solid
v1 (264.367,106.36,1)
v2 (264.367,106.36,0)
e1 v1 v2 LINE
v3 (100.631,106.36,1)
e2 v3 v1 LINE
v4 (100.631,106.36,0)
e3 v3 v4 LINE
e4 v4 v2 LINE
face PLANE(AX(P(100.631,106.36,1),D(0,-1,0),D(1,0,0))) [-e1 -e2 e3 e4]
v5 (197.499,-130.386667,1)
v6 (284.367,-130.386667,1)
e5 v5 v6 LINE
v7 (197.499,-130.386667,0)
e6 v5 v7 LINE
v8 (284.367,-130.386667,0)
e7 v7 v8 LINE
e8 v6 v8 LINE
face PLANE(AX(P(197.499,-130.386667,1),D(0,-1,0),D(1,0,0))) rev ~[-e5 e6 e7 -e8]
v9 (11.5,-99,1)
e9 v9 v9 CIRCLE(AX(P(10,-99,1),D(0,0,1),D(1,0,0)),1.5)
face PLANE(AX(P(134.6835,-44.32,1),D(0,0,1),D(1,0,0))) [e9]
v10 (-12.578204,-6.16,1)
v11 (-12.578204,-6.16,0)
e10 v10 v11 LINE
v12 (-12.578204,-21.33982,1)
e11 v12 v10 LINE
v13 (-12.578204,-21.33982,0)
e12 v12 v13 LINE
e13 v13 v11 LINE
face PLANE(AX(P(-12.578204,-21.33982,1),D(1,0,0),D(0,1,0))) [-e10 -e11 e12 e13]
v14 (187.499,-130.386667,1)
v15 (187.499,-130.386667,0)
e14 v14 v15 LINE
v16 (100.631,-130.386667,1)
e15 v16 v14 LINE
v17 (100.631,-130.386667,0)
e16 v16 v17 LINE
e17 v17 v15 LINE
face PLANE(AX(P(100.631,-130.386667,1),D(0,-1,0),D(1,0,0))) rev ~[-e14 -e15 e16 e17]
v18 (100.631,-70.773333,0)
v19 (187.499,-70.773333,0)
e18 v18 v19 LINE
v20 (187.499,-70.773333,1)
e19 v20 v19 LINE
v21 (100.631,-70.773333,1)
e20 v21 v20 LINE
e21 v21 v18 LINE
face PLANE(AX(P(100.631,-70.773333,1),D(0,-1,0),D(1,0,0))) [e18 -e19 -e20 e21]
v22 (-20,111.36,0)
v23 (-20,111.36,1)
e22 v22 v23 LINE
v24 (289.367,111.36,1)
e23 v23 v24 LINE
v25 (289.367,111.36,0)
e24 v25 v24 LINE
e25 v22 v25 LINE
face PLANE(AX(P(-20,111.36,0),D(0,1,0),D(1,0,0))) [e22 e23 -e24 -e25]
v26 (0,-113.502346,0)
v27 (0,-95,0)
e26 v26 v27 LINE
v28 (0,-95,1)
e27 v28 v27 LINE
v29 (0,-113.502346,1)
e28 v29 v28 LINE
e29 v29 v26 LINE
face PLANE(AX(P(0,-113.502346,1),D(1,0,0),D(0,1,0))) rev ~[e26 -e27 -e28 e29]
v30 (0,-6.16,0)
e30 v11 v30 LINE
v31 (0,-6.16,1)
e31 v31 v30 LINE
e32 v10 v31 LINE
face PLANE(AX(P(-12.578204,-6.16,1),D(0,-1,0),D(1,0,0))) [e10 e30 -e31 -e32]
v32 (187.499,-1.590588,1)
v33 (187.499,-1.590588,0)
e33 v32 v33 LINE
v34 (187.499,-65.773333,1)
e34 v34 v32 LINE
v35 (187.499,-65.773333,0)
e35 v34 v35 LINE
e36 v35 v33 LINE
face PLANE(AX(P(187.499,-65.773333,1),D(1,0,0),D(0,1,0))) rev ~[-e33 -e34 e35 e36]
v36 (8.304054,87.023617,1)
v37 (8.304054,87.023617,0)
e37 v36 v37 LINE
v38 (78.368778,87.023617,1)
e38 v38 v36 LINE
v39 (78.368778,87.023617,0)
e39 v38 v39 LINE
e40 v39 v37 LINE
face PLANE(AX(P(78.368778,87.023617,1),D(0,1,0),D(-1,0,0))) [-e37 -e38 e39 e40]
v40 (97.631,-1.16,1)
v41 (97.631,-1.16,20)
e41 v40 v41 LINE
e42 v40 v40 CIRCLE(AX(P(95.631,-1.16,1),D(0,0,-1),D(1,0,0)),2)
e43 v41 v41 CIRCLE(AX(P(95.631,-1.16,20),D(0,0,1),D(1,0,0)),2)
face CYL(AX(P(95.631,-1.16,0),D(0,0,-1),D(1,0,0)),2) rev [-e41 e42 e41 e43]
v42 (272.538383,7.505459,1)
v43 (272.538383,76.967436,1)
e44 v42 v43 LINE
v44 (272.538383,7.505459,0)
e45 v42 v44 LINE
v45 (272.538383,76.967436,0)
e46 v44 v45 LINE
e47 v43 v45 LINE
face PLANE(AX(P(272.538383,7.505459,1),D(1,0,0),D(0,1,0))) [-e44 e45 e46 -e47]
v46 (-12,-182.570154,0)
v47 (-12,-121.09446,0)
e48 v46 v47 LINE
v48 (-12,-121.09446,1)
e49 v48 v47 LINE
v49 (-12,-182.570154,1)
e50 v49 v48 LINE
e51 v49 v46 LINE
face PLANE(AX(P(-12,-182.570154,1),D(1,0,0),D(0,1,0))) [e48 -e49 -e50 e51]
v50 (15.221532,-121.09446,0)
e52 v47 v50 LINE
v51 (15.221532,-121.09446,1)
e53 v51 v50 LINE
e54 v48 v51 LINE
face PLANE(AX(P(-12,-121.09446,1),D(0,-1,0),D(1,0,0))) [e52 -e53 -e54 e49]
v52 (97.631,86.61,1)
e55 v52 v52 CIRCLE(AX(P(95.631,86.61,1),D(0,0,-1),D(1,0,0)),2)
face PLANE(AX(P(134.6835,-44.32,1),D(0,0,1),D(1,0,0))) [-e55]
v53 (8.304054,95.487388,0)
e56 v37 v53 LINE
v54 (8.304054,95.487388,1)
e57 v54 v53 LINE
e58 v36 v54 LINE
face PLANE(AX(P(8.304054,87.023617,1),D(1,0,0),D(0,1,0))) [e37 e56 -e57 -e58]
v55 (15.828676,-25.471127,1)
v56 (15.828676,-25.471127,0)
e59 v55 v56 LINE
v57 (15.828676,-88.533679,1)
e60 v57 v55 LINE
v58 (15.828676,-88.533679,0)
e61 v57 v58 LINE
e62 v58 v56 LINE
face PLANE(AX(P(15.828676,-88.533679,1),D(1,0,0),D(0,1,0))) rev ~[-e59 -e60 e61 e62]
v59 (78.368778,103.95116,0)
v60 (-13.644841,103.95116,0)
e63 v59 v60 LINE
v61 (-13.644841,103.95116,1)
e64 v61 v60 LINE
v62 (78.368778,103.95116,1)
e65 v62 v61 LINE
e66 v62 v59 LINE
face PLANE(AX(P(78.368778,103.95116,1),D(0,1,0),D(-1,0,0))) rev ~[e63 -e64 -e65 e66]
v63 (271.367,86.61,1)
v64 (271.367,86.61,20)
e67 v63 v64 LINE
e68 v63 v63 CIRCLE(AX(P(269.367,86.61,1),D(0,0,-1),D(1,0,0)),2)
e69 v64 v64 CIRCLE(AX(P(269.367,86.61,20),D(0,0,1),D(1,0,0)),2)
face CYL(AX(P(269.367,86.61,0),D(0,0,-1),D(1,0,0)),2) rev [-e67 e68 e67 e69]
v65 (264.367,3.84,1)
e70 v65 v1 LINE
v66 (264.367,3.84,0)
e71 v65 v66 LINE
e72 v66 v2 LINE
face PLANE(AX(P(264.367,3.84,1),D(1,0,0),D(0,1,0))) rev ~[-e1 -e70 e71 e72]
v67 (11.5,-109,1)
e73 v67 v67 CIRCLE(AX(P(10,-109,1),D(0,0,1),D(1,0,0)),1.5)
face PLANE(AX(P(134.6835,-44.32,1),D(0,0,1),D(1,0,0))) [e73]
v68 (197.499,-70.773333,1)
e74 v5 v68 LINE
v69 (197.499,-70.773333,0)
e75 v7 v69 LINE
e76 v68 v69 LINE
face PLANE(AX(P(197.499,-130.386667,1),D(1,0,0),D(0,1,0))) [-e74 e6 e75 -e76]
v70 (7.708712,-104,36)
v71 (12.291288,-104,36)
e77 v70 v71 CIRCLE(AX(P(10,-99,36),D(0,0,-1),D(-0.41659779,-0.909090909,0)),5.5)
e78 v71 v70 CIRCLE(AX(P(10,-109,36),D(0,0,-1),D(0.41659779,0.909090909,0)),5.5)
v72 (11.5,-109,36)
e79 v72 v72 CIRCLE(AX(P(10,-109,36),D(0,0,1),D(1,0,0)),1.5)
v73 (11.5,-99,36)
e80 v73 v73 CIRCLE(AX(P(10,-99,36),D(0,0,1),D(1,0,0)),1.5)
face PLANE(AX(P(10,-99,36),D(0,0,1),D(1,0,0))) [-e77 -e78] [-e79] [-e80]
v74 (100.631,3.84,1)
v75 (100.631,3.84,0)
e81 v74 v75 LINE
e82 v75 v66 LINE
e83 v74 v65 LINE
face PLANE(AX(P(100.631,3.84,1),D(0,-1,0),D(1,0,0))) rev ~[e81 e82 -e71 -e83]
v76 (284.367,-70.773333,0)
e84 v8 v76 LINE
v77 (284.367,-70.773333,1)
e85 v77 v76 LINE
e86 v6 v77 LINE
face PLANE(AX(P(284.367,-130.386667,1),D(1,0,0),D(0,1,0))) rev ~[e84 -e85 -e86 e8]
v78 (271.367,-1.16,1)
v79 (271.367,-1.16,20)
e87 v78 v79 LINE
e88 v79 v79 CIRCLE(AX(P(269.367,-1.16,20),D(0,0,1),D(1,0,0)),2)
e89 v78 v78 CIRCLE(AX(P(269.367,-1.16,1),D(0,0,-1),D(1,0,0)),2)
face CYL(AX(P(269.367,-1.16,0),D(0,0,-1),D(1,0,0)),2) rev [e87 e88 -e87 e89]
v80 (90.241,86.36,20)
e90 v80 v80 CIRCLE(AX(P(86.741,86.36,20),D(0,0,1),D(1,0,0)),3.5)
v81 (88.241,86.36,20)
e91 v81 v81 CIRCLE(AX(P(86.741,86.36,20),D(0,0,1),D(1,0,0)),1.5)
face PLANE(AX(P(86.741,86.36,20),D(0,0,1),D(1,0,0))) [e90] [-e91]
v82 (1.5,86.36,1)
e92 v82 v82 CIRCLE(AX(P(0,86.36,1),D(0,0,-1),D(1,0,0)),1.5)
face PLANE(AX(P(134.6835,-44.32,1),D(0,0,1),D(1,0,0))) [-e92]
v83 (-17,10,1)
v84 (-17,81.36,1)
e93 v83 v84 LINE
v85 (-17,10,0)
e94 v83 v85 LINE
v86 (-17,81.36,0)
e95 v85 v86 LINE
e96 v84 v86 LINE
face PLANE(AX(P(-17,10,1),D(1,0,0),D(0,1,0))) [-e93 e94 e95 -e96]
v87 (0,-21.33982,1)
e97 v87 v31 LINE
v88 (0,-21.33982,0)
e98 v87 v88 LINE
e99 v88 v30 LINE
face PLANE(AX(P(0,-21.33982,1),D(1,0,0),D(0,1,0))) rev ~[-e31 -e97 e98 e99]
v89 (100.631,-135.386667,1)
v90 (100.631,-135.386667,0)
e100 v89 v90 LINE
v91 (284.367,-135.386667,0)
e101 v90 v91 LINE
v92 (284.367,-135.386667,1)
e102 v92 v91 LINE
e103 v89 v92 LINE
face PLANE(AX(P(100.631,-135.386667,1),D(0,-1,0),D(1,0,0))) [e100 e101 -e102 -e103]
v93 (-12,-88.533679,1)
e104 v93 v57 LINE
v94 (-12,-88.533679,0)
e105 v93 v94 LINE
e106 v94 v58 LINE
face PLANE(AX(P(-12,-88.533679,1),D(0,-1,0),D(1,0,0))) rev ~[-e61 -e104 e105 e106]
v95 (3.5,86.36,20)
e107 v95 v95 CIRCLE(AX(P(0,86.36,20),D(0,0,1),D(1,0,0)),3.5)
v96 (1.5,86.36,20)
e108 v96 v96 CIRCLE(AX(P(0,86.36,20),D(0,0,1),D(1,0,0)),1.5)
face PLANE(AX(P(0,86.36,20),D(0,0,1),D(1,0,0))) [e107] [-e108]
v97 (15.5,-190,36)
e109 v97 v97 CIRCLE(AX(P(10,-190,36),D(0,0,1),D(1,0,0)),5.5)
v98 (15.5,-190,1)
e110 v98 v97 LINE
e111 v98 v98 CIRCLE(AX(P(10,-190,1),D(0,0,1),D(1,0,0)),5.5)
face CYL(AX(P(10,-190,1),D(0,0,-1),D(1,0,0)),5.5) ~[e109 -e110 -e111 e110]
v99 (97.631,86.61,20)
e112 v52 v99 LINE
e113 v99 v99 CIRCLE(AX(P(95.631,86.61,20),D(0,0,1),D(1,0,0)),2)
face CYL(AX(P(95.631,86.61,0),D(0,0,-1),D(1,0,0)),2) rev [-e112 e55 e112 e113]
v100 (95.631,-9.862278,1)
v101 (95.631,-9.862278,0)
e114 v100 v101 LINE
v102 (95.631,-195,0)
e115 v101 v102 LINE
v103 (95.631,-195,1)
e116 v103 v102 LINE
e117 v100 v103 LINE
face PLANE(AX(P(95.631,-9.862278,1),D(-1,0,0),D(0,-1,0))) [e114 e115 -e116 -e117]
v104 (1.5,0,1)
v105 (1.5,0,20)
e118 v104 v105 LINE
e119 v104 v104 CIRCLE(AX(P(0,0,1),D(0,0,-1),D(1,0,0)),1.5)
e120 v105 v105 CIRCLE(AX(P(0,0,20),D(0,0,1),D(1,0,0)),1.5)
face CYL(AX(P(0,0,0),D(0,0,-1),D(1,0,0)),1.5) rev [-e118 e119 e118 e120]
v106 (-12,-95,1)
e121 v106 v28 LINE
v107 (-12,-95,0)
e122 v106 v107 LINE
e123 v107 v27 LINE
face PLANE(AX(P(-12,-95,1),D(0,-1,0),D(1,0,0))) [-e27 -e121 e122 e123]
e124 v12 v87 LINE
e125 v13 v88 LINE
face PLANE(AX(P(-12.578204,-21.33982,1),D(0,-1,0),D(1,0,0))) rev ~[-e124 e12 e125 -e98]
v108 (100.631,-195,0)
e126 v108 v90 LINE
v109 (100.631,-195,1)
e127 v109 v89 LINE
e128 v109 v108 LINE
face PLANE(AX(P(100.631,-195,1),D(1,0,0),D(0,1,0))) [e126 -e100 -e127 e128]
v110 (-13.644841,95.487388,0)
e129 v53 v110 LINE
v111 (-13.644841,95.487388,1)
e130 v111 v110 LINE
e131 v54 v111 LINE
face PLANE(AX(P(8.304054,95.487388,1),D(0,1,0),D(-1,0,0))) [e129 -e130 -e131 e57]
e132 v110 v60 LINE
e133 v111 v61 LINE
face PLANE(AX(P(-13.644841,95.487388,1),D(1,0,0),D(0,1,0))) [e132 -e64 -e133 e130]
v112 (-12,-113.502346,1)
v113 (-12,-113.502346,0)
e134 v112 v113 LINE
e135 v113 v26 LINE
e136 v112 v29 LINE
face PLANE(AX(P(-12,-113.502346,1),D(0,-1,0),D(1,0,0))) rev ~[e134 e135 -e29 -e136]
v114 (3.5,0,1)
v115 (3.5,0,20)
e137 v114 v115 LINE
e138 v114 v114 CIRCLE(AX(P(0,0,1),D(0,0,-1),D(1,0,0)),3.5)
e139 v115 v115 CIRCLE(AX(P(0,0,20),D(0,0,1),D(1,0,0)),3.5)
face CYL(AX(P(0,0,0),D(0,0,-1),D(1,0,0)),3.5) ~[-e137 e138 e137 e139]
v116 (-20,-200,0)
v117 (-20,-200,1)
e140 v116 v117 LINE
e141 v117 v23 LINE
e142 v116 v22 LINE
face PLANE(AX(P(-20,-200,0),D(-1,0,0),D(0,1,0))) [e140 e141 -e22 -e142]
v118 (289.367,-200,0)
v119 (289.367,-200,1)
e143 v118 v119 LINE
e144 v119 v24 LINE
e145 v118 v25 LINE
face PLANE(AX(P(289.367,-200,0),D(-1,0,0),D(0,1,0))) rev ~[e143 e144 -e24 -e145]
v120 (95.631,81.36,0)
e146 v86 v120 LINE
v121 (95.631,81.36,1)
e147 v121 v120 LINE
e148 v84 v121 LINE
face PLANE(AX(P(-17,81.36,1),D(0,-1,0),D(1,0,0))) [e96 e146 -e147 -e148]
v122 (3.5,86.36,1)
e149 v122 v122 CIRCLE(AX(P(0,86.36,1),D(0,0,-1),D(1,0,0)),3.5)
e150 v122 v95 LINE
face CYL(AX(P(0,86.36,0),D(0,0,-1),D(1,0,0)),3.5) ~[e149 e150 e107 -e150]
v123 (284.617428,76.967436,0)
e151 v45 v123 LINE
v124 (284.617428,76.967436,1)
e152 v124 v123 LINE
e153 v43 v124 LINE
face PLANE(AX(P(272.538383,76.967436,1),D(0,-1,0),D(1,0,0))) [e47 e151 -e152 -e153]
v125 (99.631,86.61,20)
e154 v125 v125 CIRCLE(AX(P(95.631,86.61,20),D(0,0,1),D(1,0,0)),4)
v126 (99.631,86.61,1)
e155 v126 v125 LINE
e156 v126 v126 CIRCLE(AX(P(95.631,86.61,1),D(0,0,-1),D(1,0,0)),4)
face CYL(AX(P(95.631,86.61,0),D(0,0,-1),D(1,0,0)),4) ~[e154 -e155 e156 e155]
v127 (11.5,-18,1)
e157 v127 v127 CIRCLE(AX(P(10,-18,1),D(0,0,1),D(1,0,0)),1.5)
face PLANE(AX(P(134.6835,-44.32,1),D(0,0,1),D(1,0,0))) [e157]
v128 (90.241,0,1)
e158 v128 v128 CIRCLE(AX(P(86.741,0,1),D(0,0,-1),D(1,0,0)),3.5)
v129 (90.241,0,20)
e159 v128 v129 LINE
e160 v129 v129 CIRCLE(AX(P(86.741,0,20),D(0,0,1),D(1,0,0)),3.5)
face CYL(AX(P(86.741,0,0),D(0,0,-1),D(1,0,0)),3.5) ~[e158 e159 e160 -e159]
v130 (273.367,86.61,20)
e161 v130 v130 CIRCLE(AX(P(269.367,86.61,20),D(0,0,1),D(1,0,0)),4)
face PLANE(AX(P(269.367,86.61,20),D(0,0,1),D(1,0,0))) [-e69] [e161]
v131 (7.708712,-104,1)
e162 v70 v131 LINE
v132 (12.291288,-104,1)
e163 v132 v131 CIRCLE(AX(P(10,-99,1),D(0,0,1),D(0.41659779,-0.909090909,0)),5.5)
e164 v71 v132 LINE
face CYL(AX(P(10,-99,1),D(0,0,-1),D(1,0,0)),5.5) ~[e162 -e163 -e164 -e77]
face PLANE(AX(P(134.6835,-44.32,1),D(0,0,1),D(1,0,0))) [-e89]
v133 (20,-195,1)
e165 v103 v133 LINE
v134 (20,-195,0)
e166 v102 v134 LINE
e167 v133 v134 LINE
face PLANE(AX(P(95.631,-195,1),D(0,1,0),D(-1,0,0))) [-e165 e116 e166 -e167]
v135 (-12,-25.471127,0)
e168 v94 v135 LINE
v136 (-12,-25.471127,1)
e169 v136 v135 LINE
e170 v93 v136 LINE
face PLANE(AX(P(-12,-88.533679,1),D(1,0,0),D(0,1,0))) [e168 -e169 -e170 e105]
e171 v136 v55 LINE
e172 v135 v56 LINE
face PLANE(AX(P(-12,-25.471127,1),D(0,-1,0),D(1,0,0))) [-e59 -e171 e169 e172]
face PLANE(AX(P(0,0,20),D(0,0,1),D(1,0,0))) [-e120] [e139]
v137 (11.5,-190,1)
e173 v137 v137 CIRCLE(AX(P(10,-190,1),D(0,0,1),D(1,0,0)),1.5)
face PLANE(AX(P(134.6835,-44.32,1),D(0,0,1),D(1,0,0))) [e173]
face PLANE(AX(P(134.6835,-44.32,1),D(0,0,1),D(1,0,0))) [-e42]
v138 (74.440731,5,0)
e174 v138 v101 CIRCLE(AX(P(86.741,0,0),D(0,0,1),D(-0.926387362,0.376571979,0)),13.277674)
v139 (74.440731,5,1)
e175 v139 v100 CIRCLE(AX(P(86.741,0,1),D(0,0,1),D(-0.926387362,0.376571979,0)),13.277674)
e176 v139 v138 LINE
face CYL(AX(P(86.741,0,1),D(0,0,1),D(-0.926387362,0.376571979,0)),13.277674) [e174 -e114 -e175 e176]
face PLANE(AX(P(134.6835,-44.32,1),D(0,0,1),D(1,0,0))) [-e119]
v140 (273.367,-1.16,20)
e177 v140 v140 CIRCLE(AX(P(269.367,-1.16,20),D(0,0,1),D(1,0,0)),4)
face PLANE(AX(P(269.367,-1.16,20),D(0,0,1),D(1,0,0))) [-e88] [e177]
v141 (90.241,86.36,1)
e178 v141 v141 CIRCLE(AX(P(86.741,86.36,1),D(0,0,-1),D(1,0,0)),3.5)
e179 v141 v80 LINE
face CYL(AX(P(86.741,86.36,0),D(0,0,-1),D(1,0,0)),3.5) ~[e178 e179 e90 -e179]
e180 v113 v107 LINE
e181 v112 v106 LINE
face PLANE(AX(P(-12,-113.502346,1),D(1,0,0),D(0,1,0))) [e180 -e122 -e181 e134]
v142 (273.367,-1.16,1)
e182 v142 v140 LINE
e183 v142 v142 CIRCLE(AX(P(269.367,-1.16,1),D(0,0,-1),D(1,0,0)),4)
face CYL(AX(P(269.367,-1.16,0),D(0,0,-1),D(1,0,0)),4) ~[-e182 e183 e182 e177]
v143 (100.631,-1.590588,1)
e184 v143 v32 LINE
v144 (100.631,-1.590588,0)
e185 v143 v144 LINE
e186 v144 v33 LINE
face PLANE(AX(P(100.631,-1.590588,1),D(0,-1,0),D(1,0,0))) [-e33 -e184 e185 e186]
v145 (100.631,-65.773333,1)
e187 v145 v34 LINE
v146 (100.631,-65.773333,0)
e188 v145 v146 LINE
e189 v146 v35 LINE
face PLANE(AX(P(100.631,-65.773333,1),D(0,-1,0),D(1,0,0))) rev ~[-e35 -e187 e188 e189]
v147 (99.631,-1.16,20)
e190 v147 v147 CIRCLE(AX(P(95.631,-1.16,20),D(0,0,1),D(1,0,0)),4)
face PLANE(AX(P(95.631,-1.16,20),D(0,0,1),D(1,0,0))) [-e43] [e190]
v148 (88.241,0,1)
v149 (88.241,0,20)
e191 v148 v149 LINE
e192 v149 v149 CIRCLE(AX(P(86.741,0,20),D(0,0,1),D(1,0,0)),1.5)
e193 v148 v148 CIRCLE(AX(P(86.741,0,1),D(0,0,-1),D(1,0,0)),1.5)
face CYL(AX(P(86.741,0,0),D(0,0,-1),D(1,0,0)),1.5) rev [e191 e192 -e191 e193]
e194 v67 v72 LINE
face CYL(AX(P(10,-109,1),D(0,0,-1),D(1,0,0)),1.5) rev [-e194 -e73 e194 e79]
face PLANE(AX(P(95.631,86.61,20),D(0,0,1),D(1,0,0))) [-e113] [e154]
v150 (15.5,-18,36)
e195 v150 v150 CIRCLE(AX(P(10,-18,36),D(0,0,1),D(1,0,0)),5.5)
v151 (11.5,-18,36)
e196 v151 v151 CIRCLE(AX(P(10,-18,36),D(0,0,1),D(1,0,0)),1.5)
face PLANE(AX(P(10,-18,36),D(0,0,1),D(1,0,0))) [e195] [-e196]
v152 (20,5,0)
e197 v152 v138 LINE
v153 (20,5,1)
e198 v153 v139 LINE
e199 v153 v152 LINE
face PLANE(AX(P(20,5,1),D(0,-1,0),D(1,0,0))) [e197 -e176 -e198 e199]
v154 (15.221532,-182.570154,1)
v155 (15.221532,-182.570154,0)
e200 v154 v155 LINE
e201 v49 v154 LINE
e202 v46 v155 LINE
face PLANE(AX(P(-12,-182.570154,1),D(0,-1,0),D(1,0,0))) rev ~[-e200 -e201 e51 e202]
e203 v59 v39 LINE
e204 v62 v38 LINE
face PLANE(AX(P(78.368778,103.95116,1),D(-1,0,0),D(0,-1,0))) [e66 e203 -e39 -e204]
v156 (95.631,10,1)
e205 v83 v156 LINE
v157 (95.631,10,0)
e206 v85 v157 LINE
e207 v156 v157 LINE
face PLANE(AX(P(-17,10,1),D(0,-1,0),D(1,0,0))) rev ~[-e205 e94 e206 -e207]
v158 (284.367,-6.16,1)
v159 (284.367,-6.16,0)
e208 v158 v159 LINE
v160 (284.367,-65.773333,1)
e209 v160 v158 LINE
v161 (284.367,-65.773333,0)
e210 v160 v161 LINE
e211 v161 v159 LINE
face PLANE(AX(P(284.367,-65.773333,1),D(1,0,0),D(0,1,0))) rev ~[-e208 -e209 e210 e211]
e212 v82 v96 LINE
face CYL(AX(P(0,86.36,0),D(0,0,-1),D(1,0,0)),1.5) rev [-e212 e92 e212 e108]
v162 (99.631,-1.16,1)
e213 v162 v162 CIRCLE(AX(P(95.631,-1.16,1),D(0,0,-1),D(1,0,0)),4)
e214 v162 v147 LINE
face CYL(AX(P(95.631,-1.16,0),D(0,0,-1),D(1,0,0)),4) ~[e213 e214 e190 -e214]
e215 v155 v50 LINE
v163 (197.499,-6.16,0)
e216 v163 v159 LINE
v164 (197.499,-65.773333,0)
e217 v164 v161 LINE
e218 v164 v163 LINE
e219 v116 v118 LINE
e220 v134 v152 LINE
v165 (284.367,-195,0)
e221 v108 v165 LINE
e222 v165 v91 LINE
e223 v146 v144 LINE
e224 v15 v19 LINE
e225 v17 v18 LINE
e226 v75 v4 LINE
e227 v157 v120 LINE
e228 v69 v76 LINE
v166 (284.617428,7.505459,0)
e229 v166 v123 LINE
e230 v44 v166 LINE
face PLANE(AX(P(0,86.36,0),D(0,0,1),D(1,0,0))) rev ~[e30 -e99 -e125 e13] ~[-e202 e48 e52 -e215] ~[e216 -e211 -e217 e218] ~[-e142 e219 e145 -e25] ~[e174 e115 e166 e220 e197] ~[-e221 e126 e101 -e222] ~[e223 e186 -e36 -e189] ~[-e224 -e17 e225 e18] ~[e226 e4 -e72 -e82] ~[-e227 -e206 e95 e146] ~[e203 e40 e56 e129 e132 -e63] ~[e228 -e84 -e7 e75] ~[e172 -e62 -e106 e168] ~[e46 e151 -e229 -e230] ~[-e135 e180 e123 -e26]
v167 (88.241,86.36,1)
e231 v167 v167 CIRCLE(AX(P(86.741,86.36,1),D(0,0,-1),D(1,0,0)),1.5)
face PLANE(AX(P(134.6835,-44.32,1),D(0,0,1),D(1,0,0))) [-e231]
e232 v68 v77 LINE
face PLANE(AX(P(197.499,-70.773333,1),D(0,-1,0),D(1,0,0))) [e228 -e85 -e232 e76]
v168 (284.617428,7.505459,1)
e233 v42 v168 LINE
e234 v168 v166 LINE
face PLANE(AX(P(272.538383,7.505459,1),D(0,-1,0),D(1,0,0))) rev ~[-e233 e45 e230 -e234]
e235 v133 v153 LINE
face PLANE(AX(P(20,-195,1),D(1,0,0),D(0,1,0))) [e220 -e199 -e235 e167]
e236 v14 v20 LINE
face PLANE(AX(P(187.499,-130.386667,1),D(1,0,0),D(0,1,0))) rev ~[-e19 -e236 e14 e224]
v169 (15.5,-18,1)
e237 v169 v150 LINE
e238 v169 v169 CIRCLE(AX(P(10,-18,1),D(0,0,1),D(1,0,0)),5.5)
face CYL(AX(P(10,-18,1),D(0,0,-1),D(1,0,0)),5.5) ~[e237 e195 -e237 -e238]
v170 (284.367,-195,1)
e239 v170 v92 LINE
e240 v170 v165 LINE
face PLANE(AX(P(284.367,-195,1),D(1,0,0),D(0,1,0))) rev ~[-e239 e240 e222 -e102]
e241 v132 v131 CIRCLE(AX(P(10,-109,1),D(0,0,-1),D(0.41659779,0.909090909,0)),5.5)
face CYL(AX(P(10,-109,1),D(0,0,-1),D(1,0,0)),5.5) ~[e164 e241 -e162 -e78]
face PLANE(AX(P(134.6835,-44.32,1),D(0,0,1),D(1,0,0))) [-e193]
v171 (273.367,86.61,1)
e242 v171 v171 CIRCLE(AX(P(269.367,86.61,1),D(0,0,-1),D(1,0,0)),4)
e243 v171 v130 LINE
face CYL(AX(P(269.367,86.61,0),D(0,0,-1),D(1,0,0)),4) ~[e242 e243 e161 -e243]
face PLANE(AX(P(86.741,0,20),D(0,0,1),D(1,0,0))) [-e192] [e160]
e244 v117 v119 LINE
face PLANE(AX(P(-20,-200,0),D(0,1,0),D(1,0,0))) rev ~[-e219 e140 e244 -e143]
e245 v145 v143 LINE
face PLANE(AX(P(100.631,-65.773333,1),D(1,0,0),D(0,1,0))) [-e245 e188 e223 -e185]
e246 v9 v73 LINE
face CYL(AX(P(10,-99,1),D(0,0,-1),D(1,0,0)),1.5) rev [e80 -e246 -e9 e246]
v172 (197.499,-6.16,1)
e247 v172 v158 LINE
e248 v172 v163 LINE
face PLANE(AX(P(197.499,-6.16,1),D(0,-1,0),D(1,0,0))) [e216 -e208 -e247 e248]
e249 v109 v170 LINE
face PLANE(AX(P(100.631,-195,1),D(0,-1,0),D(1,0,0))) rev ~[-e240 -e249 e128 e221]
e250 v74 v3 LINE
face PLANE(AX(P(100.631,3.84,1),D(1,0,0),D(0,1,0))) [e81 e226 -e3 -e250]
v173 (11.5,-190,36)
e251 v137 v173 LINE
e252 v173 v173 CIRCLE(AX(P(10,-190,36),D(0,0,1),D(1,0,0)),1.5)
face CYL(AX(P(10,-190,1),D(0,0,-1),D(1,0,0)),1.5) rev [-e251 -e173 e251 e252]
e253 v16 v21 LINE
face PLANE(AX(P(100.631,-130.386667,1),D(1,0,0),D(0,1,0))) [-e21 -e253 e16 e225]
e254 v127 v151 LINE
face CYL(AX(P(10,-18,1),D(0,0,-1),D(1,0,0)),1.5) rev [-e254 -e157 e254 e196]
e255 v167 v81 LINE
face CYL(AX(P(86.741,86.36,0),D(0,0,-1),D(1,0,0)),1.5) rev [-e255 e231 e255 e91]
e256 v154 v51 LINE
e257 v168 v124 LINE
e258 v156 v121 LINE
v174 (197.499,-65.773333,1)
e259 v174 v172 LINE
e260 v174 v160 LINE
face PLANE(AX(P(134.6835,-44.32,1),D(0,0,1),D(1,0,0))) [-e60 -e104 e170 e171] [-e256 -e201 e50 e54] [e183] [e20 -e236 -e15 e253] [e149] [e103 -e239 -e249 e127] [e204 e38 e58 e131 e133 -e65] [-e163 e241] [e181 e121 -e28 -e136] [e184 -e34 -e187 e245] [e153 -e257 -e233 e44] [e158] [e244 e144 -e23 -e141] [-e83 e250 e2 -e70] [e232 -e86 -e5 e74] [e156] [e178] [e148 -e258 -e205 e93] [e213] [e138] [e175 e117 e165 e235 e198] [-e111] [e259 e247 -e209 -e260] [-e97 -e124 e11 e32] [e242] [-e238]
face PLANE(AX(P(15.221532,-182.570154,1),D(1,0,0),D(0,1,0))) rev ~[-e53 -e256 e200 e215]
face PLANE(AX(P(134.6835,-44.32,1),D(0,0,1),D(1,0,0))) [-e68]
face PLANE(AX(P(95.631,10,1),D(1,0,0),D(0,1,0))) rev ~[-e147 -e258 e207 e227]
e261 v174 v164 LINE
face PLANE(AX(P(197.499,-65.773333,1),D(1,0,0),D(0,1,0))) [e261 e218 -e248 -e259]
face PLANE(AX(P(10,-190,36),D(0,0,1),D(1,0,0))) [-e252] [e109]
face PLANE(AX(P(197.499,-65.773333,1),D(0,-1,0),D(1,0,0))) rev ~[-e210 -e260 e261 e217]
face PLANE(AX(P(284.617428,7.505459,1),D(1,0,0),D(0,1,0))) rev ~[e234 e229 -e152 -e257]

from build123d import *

# Parameters (mm, degrees)
SKETCH2_W           = 309.367
SKETCH2_H           = 311.36
BOSS_EXTRUDE1_DEPTH = 1
SKETCH2_3_R         = 3.5
SKETCH2_3_R_2       = 1.5
SKETCH2_3_R_3       = 4
SKETCH2_3_R_4       = 2
EXTRUDE_THIN1_DEPTH = 20
SKETCH3_R           = 5.5
SKETCH3_R_2         = 1.5
EXTRUDE_THIN2_DEPTH = 35
SKETCH4_W           = 112.631
SKETCH4_H           = 71.36
SKETCH4_W_2         = 163.736
SKETCH4_H_2         = 102.52
SKETCH4_W_3         = 86.868
SKETCH4_H_3         = 64.182745073
SKETCH4_H_4         = 59.613333333
SKETCH4_H_5         = 59.613333334
SKETCH4_W_4         = 183.736
SKETCH4_W_5         = 12.079044756
SKETCH4_H_6         = 69.461977069
SKETCH4_W_6         = 27.221531775
SKETCH4_H_7         = 61.475693889
SKETCH4_W_7         = 27.828675931
SKETCH4_H_8         = 63.062552752
SKETCH4_W_8         = 12
SKETCH4_H_9         = 18.502345826
SKETCH4_W_9         = 12.578204099
SKETCH4_H_10        = 15.179819782
CUT_EXTRUDE1_DEPTH  = 354.494357365


with BuildPart() as part:
    # Sketch2 → Boss-Extrude1 (new body)
    with BuildSketch(Plane.XY):
        with Locations((134.6835, -44.32)):
            Rectangle(SKETCH2_W, SKETCH2_H)
    extrude(amount=BOSS_EXTRUDE1_DEPTH)

    # Sketch2<3> → Extrude-Thin1 (add)
    # profile 1 of 8: a face of its own
    with BuildSketch(Plane.XY):
        with Locations((0, 86.36)):
            Circle(SKETCH2_3_R)
        with Locations((0, 86.36)):
            Circle(SKETCH2_3_R_2, mode=Mode.SUBTRACT)
    # profile 2 of 8: a face of its own
    with BuildSketch(Plane.XY):
        with Locations((86.741, 86.36)):
            Circle(SKETCH2_3_R)
        with Locations((86.741, 86.36)):
            Circle(SKETCH2_3_R_2, mode=Mode.SUBTRACT)
    # profile 3 of 8: a face of its own
    with BuildSketch(Plane.XY):
        Circle(SKETCH2_3_R)
        Circle(SKETCH2_3_R_2, mode=Mode.SUBTRACT)
    # profile 4 of 8: a face of its own
    with BuildSketch(Plane.XY):
        with Locations((86.741, 0)):
            Circle(SKETCH2_3_R)
        with Locations((86.741, 0)):
            Circle(SKETCH2_3_R_2, mode=Mode.SUBTRACT)
    # profile 5 of 8: a face of its own
    with BuildSketch(Plane.XY):
        with Locations((95.631, -1.16)):
            Circle(SKETCH2_3_R_3)
        with Locations((95.631, -1.16)):
            Circle(SKETCH2_3_R_4, mode=Mode.SUBTRACT)
    # profile 6 of 8: a face of its own
    with BuildSketch(Plane.XY):
        with Locations((95.631, 86.61)):
            Circle(SKETCH2_3_R_3)
        with Locations((95.631, 86.61)):
            Circle(SKETCH2_3_R_4, mode=Mode.SUBTRACT)
    # profile 7 of 8: a face of its own
    with BuildSketch(Plane.XY):
        with Locations((269.367, 86.61)):
            Circle(SKETCH2_3_R_3)
        with Locations((269.367, 86.61)):
            Circle(SKETCH2_3_R_4, mode=Mode.SUBTRACT)
    # profile 8 of 8: a face of its own
    with BuildSketch(Plane.XY):
        with Locations((269.367, -1.16)):
            Circle(SKETCH2_3_R_3)
        with Locations((269.367, -1.16)):
            Circle(SKETCH2_3_R_4, mode=Mode.SUBTRACT)
    extrude(amount=EXTRUDE_THIN1_DEPTH)

    # Sketch3 → Extrude-Thin2 (add)
    # profile 1 of 4: a face of its own
    with BuildSketch(Plane.XY.offset(1)):
        with Locations((10, -18)):
            Circle(SKETCH3_R)
        with Locations((10, -18)):
            Circle(SKETCH3_R_2, mode=Mode.SUBTRACT)
    # profile 2 of 4: a face of its own
    with BuildSketch(Plane.XY.offset(1)):
        with Locations((10, -99)):
            Circle(SKETCH3_R)
        with Locations((10, -99)):
            Circle(SKETCH3_R_2, mode=Mode.SUBTRACT)
    # profile 3 of 4: a face of its own
    with BuildSketch(Plane.XY.offset(1)):
        with Locations((10, -109)):
            Circle(SKETCH3_R)
        with Locations((10, -109)):
            Circle(SKETCH3_R_2, mode=Mode.SUBTRACT)
    # profile 4 of 4: a face of its own
    with BuildSketch(Plane.XY.offset(1)):
        with Locations((10, -190)):
            Circle(SKETCH3_R)
        with Locations((10, -190)):
            Circle(SKETCH3_R_2, mode=Mode.SUBTRACT)
    extrude(amount=EXTRUDE_THIN2_DEPTH)

    # Sketch4 → Cut-Extrude1 (cut, through all)
    with BuildSketch(Plane.XY.offset(1)):
        with Locations((39.3155, 45.68)):
            Rectangle(SKETCH4_W, SKETCH4_H)
        with Locations((182.499, 55.1)):
            Rectangle(SKETCH4_W_2, SKETCH4_H_2)
        with Locations((144.065, -33.681960797)):
            Rectangle(SKETCH4_W_3, SKETCH4_H_3)
        with Locations((240.933, -35.966666667)):
            Rectangle(SKETCH4_W_3, SKETCH4_H_4)
        with Locations((144.065, -100.58)):
            Rectangle(SKETCH4_W_3, SKETCH4_H_5)
        with Locations((240.933, -100.58)):
            Rectangle(SKETCH4_W_3, SKETCH4_H_5)
        with BuildLine():
            Line((20, 5), (74.440730541, 5))
            ThreePointArc((74.440730541, 5), (79.116741885, -10.87047915), (95.631, -9.862278071))
            Line((95.631, -9.862278071), (95.631, -195))
            Line((95.631, -195), (20, -195))
            Line((20, -195), (20, 5))
        make_face()
        with Locations((192.499, -165.193333333)):
            Rectangle(SKETCH4_W_4, SKETCH4_H_4)
        Polygon((8.304053723, 103.951159657), (78.368777901, 103.951159657), (78.368777901, 87.023616947), (8.304053723, 87.023616947), (8.304053723, 95.487388302), (-13.644840997, 95.487388302), (-13.644840997, 103.951159657), align=None)
        with Locations((278.577905398, 42.236447079)):
            Rectangle(SKETCH4_W_5, SKETCH4_H_6)
        with Locations((1.610765888, -151.832307187)):
            Rectangle(SKETCH4_W_6, SKETCH4_H_7)
        with Locations((1.914337966, -57.002403063)):
            Rectangle(SKETCH4_W_7, SKETCH4_H_8)
        with Locations((-6, -104.251172913)):
            Rectangle(SKETCH4_W_8, SKETCH4_H_9)
        with Locations((-6.28910205, -13.749909891)):
            Rectangle(SKETCH4_W_9, SKETCH4_H_10)
    extrude(amount=-CUT_EXTRUDE1_DEPTH, mode=Mode.SUBTRACT)


solid = part.part
